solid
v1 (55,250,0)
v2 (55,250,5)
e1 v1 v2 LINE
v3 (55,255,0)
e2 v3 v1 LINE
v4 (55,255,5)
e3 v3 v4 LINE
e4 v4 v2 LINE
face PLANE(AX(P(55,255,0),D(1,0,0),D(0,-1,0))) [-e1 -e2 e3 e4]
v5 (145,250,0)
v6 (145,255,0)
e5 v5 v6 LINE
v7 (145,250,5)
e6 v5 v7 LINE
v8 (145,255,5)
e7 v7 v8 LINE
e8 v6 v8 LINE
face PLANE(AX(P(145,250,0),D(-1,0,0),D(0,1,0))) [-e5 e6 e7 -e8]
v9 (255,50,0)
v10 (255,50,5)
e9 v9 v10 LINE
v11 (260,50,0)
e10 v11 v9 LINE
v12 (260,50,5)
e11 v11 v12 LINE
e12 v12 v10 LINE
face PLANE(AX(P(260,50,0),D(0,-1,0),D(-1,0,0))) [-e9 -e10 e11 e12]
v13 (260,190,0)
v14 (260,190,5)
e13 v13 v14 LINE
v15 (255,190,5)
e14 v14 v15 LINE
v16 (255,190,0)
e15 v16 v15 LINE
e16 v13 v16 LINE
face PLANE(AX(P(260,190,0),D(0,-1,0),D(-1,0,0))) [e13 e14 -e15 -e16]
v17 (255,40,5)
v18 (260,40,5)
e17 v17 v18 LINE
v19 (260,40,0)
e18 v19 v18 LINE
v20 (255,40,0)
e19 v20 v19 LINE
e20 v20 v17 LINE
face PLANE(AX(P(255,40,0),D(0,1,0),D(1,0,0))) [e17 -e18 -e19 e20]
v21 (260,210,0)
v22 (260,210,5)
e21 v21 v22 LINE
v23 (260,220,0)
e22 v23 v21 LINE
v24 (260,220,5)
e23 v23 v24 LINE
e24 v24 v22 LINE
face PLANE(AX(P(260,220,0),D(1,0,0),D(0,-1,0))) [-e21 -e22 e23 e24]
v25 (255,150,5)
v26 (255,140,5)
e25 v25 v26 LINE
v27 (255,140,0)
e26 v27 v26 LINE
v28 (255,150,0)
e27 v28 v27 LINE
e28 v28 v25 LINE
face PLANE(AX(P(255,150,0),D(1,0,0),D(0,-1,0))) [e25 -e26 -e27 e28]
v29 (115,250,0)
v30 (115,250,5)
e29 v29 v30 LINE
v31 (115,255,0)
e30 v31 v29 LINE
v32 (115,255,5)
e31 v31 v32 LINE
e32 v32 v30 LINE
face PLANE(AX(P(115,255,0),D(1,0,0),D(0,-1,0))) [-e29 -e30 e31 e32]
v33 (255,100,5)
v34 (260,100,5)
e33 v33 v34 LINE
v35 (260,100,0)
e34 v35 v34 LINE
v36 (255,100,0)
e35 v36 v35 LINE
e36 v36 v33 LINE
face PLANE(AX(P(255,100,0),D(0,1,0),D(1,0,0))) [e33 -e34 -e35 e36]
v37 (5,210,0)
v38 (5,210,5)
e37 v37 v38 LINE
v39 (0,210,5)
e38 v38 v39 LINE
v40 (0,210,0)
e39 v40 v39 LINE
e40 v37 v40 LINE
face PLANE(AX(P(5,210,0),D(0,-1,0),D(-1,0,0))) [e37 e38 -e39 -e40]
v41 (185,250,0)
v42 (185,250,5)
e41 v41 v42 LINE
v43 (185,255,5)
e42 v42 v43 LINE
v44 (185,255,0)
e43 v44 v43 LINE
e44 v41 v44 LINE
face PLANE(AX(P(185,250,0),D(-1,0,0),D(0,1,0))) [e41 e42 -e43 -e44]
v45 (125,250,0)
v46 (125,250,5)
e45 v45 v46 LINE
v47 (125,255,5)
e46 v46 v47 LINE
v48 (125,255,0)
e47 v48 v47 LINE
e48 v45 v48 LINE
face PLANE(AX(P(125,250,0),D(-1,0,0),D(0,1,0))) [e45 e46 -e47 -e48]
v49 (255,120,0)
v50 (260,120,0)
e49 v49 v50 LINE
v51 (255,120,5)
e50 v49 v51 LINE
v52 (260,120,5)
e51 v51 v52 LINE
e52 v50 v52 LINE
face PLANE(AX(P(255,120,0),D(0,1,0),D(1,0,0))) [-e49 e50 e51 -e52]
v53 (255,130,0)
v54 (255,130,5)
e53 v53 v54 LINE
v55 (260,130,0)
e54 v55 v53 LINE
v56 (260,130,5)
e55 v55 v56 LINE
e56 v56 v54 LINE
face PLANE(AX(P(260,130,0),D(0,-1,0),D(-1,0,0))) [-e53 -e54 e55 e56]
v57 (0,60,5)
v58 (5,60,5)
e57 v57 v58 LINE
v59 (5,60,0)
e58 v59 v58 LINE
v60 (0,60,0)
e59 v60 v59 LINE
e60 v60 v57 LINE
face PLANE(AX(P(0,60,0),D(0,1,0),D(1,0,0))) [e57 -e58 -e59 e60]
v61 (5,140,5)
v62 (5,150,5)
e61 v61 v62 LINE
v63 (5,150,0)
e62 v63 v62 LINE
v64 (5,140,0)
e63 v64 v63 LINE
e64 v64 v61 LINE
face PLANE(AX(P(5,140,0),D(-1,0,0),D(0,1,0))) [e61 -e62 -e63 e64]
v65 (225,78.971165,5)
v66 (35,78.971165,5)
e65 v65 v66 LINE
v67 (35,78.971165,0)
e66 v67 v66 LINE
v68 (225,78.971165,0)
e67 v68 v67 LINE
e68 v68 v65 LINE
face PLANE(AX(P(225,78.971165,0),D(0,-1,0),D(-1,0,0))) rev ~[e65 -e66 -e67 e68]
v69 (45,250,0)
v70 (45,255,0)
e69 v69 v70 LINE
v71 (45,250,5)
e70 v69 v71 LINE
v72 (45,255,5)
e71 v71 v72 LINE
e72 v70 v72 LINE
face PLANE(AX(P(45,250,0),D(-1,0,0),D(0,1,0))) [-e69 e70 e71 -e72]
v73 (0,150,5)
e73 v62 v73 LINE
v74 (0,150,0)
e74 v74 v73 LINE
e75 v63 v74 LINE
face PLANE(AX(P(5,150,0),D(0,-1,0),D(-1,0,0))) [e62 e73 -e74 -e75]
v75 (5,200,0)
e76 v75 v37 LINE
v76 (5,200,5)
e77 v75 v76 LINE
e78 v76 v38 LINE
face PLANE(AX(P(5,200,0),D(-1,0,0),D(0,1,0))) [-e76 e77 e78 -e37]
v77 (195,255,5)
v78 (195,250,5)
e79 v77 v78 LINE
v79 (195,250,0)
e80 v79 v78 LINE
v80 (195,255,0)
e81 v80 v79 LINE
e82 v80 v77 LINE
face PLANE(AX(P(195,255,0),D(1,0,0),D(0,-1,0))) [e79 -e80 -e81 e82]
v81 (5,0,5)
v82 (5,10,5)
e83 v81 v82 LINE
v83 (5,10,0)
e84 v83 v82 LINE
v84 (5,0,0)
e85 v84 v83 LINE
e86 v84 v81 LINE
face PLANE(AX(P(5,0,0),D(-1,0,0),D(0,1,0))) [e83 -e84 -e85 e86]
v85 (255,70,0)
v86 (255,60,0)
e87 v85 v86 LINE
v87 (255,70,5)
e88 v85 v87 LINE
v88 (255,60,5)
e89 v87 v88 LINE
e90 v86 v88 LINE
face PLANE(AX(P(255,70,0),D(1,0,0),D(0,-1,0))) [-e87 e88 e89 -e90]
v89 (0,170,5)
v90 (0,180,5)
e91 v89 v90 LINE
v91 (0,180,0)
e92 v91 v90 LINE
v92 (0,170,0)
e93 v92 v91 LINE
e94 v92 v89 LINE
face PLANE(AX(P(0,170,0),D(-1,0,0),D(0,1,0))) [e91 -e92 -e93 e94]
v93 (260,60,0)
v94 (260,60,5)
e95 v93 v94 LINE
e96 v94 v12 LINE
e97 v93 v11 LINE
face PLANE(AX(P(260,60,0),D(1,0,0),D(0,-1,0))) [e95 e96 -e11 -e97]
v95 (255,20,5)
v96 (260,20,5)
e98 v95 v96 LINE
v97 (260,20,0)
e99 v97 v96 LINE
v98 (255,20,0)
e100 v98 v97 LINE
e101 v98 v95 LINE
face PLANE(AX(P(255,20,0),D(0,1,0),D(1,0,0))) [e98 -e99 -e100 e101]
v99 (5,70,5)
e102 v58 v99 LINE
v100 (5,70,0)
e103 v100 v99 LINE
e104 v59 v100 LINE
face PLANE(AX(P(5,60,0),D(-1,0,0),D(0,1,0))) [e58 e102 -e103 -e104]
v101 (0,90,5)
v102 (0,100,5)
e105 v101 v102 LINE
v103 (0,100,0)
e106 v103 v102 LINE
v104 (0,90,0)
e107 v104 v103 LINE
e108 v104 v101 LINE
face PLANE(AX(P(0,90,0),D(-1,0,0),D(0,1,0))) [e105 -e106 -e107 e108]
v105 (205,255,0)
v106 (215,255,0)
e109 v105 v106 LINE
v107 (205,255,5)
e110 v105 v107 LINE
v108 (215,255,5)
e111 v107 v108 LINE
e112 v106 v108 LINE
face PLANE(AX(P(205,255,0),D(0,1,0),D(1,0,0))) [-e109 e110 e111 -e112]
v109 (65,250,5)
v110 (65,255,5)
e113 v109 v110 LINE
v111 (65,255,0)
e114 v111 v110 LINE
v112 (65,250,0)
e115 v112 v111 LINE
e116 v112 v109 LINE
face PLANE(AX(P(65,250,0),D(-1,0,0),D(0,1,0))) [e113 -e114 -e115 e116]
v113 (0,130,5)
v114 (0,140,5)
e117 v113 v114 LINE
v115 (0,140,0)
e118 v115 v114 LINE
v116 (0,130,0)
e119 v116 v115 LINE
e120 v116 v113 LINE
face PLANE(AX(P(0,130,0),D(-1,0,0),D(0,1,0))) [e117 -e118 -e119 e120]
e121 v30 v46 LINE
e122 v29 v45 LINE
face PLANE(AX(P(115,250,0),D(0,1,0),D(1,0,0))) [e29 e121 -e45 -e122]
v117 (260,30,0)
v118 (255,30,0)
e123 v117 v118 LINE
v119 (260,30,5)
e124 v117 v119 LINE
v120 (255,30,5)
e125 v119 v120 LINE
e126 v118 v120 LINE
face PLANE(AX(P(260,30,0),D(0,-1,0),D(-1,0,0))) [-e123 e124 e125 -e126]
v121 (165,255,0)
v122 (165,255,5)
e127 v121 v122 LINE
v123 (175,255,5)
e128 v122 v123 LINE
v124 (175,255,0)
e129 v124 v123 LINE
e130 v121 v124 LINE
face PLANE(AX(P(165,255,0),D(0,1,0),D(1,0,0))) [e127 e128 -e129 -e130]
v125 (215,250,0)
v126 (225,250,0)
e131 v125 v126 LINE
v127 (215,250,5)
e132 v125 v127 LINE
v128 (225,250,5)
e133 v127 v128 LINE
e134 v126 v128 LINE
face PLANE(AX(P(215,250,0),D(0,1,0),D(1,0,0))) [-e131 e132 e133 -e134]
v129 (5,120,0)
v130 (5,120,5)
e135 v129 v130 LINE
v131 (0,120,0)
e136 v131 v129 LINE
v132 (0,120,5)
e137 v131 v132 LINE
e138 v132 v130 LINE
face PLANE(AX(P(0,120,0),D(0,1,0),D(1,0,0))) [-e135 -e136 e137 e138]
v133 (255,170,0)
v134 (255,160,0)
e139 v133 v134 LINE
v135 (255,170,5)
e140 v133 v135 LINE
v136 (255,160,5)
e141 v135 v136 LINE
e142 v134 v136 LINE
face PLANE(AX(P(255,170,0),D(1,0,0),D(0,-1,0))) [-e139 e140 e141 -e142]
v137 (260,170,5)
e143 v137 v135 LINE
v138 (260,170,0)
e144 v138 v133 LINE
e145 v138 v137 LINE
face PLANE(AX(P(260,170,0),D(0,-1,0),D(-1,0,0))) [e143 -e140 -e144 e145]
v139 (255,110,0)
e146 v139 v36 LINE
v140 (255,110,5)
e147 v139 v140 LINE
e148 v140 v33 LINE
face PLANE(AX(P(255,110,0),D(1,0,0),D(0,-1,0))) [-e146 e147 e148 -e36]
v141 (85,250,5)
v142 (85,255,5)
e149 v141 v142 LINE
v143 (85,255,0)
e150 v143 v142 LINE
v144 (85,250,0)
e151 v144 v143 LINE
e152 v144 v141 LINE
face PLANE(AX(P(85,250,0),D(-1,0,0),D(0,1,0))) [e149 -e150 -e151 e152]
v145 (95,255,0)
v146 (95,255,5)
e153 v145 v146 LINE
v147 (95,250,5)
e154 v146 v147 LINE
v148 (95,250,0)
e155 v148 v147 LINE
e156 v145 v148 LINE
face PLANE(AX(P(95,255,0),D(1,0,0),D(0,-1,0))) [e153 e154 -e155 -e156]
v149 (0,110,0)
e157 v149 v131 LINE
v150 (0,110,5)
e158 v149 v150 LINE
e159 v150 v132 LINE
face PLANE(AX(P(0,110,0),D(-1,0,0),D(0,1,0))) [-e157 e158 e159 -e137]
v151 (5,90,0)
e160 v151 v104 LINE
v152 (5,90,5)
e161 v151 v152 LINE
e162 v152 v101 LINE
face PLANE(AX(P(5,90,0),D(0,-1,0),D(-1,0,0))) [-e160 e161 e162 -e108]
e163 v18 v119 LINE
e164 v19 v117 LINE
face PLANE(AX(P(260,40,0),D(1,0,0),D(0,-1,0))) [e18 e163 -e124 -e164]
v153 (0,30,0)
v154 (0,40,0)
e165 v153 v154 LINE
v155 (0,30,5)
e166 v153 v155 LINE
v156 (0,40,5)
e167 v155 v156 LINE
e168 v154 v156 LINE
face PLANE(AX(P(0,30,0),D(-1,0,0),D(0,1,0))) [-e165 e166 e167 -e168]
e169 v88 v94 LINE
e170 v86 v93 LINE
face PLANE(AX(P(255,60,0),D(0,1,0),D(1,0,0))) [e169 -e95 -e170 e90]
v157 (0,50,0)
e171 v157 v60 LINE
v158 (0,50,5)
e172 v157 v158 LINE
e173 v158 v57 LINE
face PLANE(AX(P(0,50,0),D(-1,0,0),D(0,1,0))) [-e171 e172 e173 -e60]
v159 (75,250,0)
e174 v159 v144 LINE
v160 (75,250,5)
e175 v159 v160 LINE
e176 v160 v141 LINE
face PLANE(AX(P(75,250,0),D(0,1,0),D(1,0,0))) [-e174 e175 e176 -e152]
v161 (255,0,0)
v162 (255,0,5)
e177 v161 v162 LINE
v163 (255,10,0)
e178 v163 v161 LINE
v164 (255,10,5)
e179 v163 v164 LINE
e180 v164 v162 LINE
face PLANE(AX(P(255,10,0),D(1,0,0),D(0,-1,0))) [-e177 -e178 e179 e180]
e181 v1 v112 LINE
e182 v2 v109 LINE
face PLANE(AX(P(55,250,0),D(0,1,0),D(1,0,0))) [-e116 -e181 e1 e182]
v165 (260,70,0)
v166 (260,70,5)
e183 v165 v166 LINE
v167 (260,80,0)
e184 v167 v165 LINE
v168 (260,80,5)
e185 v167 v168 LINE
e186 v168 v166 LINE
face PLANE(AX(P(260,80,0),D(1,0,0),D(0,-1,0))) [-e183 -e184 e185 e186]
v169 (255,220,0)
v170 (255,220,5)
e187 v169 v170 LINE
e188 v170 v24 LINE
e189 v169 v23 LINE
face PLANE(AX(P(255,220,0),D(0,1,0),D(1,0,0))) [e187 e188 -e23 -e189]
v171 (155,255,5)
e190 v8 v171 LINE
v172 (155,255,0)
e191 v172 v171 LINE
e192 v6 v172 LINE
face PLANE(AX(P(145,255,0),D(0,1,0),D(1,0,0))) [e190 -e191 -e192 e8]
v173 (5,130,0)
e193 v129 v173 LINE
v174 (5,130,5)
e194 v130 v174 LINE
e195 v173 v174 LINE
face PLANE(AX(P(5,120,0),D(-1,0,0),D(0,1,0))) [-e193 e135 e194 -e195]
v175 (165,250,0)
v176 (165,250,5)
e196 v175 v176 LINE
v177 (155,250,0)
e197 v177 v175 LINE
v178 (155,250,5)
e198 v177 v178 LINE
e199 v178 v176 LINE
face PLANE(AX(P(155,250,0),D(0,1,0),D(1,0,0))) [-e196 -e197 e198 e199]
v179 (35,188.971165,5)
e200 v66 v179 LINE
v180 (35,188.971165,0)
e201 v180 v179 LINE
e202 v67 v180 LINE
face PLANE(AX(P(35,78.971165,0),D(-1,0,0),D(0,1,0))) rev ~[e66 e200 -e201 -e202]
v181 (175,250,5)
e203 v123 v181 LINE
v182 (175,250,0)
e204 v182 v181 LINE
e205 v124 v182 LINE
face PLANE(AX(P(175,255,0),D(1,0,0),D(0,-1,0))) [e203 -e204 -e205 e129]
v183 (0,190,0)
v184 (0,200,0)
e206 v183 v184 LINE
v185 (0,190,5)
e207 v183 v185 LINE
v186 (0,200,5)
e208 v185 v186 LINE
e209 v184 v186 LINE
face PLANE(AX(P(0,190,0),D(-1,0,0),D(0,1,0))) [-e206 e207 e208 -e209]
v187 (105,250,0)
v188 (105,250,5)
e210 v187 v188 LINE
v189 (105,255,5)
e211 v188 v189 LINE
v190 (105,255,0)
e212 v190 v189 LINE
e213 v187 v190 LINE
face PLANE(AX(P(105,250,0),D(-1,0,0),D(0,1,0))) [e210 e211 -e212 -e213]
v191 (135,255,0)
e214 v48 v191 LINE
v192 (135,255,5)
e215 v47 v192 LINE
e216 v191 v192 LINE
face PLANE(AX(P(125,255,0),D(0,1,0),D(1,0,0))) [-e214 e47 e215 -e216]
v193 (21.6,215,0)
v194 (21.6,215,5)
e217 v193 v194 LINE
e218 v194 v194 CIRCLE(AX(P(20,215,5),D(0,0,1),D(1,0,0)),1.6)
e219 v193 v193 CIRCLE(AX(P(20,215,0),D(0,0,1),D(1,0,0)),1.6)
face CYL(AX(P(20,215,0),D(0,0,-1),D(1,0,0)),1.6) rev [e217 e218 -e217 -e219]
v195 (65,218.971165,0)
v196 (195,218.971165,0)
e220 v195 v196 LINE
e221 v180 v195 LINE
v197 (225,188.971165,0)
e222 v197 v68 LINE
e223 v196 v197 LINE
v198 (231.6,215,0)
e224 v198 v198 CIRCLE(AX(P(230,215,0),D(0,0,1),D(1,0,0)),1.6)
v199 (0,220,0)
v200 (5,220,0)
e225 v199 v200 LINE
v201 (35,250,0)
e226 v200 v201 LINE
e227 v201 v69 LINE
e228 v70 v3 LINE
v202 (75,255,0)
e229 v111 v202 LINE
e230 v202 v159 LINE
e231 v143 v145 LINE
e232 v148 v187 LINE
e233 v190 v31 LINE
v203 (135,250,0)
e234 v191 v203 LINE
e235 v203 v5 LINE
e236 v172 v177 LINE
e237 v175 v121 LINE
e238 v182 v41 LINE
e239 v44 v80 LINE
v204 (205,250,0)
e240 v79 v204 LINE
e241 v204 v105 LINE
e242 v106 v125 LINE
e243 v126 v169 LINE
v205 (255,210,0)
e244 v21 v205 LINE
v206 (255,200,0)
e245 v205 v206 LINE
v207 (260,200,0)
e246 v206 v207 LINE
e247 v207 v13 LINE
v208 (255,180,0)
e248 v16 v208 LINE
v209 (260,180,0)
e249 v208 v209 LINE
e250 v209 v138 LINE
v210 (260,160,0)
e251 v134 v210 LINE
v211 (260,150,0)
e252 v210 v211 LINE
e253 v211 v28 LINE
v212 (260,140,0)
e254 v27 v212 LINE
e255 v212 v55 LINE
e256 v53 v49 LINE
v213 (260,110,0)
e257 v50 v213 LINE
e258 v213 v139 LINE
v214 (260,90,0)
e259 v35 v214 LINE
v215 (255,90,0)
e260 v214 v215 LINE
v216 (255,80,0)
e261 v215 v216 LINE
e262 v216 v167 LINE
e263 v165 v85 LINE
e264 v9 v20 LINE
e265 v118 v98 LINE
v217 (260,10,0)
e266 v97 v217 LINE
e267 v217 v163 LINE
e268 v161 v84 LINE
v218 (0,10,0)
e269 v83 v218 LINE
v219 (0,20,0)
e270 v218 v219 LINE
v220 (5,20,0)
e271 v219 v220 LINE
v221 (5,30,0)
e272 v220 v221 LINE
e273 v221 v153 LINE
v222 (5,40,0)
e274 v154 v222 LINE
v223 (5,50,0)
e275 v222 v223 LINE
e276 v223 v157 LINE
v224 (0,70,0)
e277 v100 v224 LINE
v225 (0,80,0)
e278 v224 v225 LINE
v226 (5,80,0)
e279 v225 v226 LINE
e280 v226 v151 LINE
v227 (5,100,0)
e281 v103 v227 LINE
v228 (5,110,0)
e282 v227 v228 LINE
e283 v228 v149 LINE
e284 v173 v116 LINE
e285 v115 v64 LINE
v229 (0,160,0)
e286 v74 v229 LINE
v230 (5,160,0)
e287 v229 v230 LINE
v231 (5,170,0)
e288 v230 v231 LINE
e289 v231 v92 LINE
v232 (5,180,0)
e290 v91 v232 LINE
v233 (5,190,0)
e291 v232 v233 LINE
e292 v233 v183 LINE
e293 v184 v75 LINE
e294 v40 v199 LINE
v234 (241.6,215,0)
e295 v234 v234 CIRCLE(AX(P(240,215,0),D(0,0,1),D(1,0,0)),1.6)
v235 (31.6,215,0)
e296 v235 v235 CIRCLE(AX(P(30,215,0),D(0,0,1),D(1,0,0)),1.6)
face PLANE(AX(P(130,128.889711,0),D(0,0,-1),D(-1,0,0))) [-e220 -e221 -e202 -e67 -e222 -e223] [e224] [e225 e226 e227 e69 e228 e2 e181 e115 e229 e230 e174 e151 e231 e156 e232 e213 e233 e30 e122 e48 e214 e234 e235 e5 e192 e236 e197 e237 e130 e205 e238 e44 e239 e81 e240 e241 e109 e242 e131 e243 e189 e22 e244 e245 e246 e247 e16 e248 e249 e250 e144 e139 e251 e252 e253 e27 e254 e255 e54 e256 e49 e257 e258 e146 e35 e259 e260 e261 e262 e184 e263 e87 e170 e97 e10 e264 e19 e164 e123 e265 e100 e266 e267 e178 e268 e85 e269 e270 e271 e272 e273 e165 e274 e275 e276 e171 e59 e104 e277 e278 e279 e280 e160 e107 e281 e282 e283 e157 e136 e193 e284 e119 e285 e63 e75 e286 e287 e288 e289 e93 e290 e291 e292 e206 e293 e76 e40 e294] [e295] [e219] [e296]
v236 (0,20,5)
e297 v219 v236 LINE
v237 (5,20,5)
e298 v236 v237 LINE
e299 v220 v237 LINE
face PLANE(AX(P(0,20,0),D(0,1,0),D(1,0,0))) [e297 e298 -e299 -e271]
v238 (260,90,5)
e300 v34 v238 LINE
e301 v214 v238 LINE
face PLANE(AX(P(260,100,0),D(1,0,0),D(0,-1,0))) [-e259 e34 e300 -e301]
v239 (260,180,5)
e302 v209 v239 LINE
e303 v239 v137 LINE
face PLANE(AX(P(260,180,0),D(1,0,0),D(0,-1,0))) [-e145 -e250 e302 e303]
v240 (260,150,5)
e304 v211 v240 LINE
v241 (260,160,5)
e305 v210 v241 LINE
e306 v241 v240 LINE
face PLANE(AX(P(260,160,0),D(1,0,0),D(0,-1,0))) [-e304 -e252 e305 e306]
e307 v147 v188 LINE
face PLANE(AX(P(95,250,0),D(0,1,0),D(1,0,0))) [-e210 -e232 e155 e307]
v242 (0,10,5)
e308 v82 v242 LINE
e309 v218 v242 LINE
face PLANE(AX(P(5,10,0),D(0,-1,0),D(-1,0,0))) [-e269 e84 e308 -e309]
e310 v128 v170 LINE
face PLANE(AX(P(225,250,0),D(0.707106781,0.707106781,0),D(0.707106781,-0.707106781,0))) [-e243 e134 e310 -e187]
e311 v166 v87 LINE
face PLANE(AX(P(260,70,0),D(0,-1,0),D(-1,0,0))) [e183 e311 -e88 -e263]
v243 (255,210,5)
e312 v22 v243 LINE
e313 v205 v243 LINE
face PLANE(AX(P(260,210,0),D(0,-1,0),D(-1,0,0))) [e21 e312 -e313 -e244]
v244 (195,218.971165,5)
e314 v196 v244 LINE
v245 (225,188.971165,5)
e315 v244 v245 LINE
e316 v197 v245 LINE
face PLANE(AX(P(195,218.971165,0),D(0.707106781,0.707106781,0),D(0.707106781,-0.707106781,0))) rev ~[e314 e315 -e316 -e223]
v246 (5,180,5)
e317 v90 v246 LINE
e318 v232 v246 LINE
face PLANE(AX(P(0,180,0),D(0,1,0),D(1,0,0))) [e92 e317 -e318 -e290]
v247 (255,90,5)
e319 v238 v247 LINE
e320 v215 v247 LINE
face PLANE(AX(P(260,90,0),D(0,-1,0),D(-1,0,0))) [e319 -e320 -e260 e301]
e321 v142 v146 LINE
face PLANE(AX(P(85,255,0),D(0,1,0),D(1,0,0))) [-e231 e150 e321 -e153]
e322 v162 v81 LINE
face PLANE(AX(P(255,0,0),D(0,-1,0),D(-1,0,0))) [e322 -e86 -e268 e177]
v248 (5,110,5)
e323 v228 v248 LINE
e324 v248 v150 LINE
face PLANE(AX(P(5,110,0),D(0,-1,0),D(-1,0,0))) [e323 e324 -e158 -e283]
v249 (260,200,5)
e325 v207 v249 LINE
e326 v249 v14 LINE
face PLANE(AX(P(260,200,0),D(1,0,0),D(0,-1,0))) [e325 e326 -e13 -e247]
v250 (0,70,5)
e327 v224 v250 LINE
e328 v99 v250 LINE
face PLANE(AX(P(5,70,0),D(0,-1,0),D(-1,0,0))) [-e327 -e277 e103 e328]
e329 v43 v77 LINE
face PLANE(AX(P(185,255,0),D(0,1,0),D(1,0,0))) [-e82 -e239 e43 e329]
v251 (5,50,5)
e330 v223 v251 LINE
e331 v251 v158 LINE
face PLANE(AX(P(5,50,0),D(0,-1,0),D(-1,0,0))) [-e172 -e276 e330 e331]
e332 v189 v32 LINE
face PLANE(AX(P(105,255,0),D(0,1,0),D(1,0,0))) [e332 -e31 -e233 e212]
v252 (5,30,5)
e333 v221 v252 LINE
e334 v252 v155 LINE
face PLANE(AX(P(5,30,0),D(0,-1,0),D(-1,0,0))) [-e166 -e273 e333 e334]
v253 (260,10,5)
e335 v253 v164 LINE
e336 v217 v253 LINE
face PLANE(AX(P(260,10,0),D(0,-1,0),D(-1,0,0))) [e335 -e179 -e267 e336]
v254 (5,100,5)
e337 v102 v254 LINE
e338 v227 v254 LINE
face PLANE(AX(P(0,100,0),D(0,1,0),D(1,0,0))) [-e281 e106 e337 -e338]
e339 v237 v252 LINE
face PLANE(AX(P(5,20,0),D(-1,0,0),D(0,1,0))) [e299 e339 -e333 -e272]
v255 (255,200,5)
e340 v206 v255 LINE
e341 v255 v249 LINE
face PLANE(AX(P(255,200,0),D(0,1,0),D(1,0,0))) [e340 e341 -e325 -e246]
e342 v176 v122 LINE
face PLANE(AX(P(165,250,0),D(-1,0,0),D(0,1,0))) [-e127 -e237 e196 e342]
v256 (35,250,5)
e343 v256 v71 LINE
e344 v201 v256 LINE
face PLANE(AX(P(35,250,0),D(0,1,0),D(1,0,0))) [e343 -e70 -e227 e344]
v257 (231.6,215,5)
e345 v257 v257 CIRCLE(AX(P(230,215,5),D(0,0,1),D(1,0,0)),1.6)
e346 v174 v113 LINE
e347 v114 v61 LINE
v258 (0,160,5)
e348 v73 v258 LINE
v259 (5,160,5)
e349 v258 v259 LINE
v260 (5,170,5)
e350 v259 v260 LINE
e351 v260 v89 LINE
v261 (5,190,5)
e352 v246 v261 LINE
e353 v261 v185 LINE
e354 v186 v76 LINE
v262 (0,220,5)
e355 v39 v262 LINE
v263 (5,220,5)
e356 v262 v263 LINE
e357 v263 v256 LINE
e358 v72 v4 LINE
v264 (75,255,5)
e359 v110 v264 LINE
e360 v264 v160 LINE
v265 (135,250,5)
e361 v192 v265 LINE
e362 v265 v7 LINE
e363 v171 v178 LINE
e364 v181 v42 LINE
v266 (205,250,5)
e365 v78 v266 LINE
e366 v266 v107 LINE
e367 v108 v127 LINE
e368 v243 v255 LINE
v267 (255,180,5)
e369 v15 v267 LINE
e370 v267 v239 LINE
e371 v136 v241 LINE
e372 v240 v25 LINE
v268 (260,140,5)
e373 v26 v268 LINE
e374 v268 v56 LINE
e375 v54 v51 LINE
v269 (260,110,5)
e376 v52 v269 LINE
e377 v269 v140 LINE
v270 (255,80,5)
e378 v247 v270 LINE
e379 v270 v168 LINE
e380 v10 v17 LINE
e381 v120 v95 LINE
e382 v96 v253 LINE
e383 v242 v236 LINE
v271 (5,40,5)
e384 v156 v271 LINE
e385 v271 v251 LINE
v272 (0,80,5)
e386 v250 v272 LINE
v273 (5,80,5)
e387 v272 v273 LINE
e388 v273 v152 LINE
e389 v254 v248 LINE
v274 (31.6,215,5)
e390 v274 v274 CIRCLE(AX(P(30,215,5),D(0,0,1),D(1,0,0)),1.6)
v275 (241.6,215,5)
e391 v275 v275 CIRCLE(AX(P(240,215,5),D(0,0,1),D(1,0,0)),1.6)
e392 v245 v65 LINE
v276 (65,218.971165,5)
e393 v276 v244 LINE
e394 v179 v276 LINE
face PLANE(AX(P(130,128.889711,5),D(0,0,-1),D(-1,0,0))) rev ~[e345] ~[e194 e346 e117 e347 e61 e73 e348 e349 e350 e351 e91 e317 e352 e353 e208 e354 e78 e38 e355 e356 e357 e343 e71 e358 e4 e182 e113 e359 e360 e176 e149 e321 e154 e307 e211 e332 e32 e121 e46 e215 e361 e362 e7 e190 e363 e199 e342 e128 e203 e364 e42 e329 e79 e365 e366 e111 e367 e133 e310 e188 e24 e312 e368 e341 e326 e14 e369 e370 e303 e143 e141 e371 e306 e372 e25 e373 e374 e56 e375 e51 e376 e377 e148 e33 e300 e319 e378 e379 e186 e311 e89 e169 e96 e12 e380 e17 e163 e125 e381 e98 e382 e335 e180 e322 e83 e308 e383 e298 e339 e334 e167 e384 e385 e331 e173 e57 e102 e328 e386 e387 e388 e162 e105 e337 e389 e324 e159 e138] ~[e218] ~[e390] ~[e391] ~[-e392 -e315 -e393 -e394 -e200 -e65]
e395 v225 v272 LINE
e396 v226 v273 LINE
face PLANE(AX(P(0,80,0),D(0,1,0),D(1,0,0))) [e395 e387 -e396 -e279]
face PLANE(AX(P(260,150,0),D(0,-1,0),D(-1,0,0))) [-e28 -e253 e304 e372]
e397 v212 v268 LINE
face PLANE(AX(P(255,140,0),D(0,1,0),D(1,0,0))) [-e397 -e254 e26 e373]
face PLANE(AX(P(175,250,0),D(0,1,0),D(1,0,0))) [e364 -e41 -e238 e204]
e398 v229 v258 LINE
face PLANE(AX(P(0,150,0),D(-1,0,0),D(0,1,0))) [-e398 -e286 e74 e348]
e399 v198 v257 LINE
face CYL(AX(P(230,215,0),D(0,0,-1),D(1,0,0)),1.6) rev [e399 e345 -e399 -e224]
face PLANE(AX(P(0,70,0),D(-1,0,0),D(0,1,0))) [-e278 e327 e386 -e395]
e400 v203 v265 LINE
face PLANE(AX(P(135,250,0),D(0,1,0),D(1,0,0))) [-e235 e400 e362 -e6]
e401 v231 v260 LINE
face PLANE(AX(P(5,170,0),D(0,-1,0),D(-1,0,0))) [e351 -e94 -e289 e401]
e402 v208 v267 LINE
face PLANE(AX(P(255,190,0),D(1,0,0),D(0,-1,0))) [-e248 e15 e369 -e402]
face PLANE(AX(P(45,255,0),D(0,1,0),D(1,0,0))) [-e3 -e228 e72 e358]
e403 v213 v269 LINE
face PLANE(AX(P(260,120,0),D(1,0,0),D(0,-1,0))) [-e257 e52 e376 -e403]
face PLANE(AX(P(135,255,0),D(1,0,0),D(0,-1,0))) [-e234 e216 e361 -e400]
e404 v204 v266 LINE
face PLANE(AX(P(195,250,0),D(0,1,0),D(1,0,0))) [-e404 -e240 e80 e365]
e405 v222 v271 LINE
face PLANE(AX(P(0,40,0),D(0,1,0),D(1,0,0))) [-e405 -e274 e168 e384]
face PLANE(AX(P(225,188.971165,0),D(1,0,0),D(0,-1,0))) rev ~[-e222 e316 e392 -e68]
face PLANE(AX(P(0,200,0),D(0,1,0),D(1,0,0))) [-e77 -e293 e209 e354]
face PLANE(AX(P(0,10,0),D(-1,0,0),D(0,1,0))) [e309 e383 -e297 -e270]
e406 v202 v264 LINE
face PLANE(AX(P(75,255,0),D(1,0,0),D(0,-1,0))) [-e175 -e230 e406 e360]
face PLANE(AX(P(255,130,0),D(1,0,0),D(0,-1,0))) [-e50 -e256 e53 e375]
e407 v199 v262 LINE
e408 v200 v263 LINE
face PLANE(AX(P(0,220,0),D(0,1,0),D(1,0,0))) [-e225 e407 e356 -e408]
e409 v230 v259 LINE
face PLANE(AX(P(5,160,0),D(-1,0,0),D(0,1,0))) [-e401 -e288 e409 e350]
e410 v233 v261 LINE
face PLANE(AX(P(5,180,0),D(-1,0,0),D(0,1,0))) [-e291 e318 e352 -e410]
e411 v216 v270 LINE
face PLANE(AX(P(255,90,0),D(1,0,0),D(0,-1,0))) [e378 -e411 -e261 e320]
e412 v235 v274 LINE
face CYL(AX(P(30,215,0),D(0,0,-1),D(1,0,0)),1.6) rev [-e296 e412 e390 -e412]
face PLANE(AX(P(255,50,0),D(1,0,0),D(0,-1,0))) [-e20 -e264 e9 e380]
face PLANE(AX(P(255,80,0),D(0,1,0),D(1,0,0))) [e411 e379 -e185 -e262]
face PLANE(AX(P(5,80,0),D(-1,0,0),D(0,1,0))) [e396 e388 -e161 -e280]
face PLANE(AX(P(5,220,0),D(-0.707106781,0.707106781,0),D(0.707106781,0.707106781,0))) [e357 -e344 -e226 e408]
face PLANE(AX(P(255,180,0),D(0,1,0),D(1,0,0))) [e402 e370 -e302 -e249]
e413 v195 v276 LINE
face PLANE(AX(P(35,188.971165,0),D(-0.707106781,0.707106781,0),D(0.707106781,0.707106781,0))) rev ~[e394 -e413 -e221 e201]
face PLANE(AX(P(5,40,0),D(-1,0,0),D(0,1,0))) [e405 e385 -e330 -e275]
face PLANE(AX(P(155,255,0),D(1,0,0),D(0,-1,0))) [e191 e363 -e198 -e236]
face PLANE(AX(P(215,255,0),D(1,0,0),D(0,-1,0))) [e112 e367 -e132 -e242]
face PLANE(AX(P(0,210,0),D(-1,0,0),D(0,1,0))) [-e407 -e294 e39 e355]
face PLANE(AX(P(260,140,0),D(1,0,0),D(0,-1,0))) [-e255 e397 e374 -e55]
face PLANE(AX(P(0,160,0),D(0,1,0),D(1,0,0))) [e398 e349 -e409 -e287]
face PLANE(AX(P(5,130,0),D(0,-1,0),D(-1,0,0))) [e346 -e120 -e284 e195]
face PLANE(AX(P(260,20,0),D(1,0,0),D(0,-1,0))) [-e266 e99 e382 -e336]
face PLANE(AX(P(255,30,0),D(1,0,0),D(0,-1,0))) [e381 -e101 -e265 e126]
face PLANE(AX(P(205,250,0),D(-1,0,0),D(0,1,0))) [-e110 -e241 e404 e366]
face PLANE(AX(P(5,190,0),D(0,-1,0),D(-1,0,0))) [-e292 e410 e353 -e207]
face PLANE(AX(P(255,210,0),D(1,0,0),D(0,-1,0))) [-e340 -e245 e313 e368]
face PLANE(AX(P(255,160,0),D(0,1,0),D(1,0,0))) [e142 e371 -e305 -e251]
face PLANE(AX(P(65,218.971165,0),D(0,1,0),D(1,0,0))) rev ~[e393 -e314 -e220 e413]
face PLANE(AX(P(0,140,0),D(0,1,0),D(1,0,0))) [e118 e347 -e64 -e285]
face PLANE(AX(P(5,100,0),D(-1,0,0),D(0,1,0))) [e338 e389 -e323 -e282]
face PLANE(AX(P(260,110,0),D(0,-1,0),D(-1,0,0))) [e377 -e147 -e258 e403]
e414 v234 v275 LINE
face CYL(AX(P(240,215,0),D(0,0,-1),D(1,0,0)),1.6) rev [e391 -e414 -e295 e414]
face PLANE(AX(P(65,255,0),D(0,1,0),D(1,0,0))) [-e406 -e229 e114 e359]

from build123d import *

# Parameters (mm, degrees)
SKIZZE1_R                       = 1.6
AUFSATZ_LINEAR_AUSTRAGEN1_DEPTH = 5


with BuildPart() as part:
    # Skizze1 → Aufsatz-Linear austragen1 (new body)
    with BuildSketch(Plane.XY):
        Polygon((35, 250), (45, 250), (45, 255), (55, 255), (55, 250), (65, 250), (65, 255), (75, 255), (75, 250), (85, 250), (85, 255), (95, 255), (95, 250), (105, 250), (105, 255), (115, 255), (115, 250), (125, 250), (125, 255), (135, 255), (135, 250), (145, 250), (145, 255), (155, 255), (155, 250), (165, 250), (165, 255), (175, 255), (175, 250), (185, 250), (185, 255), (195, 255), (195, 250), (205, 250), (205, 255), (215, 255), (215, 250), (225, 250), (255, 220), (260, 220), (260, 210), (255, 210), (255, 200), (260, 200), (260, 190), (255, 190), (255, 180), (260, 180), (260, 170), (255, 170), (255, 160), (260, 160), (260, 150), (255, 150), (255, 140), (260, 140), (260, 130), (255, 130), (255, 120), (260, 120), (260, 110), (255, 110), (255, 100), (260, 100), (260, 90), (255, 90), (255, 80), (260, 80), (260, 70), (255, 70), (255, 60), (260, 60), (260, 50), (255, 50), (255, 40), (260, 40), (260, 30), (255, 30), (255, 20), (260, 20), (260, 10), (255, 10), (255, 0), (5, 0), (5, 10), (0, 10), (0, 20), (5, 20), (5, 30), (0, 30), (0, 40), (5, 40), (5, 50), (0, 50), (0, 60), (5, 60), (5, 70), (0, 70), (0, 80), (5, 80), (5, 90), (0, 90), (0, 100), (5, 100), (5, 110), (0, 110), (0, 120), (5, 120), (5, 130), (0, 130), (0, 140), (5, 140), (5, 150), (0, 150), (0, 160), (5, 160), (5, 170), (0, 170), (0, 180), (5, 180), (5, 190), (0, 190), (0, 200), (5, 200), (5, 210), (0, 210), (0, 220), (5, 220), align=None)
        with Locations((20, 215)):
            Circle(SKIZZE1_R, mode=Mode.SUBTRACT)
        with Locations((30, 215)):
            Circle(SKIZZE1_R, mode=Mode.SUBTRACT)
        with Locations((240, 215)):
            Circle(SKIZZE1_R, mode=Mode.SUBTRACT)
        with Locations((230, 215)):
            Circle(SKIZZE1_R, mode=Mode.SUBTRACT)
        Polygon((65, 218.971165398), (195, 218.971165398), (225, 188.971165398), (225, 78.971165398), (35, 78.971165398), (35, 188.971165398), align=None, mode=Mode.SUBTRACT)
    extrude(amount=AUFSATZ_LINEAR_AUSTRAGEN1_DEPTH)


solid = part.part
